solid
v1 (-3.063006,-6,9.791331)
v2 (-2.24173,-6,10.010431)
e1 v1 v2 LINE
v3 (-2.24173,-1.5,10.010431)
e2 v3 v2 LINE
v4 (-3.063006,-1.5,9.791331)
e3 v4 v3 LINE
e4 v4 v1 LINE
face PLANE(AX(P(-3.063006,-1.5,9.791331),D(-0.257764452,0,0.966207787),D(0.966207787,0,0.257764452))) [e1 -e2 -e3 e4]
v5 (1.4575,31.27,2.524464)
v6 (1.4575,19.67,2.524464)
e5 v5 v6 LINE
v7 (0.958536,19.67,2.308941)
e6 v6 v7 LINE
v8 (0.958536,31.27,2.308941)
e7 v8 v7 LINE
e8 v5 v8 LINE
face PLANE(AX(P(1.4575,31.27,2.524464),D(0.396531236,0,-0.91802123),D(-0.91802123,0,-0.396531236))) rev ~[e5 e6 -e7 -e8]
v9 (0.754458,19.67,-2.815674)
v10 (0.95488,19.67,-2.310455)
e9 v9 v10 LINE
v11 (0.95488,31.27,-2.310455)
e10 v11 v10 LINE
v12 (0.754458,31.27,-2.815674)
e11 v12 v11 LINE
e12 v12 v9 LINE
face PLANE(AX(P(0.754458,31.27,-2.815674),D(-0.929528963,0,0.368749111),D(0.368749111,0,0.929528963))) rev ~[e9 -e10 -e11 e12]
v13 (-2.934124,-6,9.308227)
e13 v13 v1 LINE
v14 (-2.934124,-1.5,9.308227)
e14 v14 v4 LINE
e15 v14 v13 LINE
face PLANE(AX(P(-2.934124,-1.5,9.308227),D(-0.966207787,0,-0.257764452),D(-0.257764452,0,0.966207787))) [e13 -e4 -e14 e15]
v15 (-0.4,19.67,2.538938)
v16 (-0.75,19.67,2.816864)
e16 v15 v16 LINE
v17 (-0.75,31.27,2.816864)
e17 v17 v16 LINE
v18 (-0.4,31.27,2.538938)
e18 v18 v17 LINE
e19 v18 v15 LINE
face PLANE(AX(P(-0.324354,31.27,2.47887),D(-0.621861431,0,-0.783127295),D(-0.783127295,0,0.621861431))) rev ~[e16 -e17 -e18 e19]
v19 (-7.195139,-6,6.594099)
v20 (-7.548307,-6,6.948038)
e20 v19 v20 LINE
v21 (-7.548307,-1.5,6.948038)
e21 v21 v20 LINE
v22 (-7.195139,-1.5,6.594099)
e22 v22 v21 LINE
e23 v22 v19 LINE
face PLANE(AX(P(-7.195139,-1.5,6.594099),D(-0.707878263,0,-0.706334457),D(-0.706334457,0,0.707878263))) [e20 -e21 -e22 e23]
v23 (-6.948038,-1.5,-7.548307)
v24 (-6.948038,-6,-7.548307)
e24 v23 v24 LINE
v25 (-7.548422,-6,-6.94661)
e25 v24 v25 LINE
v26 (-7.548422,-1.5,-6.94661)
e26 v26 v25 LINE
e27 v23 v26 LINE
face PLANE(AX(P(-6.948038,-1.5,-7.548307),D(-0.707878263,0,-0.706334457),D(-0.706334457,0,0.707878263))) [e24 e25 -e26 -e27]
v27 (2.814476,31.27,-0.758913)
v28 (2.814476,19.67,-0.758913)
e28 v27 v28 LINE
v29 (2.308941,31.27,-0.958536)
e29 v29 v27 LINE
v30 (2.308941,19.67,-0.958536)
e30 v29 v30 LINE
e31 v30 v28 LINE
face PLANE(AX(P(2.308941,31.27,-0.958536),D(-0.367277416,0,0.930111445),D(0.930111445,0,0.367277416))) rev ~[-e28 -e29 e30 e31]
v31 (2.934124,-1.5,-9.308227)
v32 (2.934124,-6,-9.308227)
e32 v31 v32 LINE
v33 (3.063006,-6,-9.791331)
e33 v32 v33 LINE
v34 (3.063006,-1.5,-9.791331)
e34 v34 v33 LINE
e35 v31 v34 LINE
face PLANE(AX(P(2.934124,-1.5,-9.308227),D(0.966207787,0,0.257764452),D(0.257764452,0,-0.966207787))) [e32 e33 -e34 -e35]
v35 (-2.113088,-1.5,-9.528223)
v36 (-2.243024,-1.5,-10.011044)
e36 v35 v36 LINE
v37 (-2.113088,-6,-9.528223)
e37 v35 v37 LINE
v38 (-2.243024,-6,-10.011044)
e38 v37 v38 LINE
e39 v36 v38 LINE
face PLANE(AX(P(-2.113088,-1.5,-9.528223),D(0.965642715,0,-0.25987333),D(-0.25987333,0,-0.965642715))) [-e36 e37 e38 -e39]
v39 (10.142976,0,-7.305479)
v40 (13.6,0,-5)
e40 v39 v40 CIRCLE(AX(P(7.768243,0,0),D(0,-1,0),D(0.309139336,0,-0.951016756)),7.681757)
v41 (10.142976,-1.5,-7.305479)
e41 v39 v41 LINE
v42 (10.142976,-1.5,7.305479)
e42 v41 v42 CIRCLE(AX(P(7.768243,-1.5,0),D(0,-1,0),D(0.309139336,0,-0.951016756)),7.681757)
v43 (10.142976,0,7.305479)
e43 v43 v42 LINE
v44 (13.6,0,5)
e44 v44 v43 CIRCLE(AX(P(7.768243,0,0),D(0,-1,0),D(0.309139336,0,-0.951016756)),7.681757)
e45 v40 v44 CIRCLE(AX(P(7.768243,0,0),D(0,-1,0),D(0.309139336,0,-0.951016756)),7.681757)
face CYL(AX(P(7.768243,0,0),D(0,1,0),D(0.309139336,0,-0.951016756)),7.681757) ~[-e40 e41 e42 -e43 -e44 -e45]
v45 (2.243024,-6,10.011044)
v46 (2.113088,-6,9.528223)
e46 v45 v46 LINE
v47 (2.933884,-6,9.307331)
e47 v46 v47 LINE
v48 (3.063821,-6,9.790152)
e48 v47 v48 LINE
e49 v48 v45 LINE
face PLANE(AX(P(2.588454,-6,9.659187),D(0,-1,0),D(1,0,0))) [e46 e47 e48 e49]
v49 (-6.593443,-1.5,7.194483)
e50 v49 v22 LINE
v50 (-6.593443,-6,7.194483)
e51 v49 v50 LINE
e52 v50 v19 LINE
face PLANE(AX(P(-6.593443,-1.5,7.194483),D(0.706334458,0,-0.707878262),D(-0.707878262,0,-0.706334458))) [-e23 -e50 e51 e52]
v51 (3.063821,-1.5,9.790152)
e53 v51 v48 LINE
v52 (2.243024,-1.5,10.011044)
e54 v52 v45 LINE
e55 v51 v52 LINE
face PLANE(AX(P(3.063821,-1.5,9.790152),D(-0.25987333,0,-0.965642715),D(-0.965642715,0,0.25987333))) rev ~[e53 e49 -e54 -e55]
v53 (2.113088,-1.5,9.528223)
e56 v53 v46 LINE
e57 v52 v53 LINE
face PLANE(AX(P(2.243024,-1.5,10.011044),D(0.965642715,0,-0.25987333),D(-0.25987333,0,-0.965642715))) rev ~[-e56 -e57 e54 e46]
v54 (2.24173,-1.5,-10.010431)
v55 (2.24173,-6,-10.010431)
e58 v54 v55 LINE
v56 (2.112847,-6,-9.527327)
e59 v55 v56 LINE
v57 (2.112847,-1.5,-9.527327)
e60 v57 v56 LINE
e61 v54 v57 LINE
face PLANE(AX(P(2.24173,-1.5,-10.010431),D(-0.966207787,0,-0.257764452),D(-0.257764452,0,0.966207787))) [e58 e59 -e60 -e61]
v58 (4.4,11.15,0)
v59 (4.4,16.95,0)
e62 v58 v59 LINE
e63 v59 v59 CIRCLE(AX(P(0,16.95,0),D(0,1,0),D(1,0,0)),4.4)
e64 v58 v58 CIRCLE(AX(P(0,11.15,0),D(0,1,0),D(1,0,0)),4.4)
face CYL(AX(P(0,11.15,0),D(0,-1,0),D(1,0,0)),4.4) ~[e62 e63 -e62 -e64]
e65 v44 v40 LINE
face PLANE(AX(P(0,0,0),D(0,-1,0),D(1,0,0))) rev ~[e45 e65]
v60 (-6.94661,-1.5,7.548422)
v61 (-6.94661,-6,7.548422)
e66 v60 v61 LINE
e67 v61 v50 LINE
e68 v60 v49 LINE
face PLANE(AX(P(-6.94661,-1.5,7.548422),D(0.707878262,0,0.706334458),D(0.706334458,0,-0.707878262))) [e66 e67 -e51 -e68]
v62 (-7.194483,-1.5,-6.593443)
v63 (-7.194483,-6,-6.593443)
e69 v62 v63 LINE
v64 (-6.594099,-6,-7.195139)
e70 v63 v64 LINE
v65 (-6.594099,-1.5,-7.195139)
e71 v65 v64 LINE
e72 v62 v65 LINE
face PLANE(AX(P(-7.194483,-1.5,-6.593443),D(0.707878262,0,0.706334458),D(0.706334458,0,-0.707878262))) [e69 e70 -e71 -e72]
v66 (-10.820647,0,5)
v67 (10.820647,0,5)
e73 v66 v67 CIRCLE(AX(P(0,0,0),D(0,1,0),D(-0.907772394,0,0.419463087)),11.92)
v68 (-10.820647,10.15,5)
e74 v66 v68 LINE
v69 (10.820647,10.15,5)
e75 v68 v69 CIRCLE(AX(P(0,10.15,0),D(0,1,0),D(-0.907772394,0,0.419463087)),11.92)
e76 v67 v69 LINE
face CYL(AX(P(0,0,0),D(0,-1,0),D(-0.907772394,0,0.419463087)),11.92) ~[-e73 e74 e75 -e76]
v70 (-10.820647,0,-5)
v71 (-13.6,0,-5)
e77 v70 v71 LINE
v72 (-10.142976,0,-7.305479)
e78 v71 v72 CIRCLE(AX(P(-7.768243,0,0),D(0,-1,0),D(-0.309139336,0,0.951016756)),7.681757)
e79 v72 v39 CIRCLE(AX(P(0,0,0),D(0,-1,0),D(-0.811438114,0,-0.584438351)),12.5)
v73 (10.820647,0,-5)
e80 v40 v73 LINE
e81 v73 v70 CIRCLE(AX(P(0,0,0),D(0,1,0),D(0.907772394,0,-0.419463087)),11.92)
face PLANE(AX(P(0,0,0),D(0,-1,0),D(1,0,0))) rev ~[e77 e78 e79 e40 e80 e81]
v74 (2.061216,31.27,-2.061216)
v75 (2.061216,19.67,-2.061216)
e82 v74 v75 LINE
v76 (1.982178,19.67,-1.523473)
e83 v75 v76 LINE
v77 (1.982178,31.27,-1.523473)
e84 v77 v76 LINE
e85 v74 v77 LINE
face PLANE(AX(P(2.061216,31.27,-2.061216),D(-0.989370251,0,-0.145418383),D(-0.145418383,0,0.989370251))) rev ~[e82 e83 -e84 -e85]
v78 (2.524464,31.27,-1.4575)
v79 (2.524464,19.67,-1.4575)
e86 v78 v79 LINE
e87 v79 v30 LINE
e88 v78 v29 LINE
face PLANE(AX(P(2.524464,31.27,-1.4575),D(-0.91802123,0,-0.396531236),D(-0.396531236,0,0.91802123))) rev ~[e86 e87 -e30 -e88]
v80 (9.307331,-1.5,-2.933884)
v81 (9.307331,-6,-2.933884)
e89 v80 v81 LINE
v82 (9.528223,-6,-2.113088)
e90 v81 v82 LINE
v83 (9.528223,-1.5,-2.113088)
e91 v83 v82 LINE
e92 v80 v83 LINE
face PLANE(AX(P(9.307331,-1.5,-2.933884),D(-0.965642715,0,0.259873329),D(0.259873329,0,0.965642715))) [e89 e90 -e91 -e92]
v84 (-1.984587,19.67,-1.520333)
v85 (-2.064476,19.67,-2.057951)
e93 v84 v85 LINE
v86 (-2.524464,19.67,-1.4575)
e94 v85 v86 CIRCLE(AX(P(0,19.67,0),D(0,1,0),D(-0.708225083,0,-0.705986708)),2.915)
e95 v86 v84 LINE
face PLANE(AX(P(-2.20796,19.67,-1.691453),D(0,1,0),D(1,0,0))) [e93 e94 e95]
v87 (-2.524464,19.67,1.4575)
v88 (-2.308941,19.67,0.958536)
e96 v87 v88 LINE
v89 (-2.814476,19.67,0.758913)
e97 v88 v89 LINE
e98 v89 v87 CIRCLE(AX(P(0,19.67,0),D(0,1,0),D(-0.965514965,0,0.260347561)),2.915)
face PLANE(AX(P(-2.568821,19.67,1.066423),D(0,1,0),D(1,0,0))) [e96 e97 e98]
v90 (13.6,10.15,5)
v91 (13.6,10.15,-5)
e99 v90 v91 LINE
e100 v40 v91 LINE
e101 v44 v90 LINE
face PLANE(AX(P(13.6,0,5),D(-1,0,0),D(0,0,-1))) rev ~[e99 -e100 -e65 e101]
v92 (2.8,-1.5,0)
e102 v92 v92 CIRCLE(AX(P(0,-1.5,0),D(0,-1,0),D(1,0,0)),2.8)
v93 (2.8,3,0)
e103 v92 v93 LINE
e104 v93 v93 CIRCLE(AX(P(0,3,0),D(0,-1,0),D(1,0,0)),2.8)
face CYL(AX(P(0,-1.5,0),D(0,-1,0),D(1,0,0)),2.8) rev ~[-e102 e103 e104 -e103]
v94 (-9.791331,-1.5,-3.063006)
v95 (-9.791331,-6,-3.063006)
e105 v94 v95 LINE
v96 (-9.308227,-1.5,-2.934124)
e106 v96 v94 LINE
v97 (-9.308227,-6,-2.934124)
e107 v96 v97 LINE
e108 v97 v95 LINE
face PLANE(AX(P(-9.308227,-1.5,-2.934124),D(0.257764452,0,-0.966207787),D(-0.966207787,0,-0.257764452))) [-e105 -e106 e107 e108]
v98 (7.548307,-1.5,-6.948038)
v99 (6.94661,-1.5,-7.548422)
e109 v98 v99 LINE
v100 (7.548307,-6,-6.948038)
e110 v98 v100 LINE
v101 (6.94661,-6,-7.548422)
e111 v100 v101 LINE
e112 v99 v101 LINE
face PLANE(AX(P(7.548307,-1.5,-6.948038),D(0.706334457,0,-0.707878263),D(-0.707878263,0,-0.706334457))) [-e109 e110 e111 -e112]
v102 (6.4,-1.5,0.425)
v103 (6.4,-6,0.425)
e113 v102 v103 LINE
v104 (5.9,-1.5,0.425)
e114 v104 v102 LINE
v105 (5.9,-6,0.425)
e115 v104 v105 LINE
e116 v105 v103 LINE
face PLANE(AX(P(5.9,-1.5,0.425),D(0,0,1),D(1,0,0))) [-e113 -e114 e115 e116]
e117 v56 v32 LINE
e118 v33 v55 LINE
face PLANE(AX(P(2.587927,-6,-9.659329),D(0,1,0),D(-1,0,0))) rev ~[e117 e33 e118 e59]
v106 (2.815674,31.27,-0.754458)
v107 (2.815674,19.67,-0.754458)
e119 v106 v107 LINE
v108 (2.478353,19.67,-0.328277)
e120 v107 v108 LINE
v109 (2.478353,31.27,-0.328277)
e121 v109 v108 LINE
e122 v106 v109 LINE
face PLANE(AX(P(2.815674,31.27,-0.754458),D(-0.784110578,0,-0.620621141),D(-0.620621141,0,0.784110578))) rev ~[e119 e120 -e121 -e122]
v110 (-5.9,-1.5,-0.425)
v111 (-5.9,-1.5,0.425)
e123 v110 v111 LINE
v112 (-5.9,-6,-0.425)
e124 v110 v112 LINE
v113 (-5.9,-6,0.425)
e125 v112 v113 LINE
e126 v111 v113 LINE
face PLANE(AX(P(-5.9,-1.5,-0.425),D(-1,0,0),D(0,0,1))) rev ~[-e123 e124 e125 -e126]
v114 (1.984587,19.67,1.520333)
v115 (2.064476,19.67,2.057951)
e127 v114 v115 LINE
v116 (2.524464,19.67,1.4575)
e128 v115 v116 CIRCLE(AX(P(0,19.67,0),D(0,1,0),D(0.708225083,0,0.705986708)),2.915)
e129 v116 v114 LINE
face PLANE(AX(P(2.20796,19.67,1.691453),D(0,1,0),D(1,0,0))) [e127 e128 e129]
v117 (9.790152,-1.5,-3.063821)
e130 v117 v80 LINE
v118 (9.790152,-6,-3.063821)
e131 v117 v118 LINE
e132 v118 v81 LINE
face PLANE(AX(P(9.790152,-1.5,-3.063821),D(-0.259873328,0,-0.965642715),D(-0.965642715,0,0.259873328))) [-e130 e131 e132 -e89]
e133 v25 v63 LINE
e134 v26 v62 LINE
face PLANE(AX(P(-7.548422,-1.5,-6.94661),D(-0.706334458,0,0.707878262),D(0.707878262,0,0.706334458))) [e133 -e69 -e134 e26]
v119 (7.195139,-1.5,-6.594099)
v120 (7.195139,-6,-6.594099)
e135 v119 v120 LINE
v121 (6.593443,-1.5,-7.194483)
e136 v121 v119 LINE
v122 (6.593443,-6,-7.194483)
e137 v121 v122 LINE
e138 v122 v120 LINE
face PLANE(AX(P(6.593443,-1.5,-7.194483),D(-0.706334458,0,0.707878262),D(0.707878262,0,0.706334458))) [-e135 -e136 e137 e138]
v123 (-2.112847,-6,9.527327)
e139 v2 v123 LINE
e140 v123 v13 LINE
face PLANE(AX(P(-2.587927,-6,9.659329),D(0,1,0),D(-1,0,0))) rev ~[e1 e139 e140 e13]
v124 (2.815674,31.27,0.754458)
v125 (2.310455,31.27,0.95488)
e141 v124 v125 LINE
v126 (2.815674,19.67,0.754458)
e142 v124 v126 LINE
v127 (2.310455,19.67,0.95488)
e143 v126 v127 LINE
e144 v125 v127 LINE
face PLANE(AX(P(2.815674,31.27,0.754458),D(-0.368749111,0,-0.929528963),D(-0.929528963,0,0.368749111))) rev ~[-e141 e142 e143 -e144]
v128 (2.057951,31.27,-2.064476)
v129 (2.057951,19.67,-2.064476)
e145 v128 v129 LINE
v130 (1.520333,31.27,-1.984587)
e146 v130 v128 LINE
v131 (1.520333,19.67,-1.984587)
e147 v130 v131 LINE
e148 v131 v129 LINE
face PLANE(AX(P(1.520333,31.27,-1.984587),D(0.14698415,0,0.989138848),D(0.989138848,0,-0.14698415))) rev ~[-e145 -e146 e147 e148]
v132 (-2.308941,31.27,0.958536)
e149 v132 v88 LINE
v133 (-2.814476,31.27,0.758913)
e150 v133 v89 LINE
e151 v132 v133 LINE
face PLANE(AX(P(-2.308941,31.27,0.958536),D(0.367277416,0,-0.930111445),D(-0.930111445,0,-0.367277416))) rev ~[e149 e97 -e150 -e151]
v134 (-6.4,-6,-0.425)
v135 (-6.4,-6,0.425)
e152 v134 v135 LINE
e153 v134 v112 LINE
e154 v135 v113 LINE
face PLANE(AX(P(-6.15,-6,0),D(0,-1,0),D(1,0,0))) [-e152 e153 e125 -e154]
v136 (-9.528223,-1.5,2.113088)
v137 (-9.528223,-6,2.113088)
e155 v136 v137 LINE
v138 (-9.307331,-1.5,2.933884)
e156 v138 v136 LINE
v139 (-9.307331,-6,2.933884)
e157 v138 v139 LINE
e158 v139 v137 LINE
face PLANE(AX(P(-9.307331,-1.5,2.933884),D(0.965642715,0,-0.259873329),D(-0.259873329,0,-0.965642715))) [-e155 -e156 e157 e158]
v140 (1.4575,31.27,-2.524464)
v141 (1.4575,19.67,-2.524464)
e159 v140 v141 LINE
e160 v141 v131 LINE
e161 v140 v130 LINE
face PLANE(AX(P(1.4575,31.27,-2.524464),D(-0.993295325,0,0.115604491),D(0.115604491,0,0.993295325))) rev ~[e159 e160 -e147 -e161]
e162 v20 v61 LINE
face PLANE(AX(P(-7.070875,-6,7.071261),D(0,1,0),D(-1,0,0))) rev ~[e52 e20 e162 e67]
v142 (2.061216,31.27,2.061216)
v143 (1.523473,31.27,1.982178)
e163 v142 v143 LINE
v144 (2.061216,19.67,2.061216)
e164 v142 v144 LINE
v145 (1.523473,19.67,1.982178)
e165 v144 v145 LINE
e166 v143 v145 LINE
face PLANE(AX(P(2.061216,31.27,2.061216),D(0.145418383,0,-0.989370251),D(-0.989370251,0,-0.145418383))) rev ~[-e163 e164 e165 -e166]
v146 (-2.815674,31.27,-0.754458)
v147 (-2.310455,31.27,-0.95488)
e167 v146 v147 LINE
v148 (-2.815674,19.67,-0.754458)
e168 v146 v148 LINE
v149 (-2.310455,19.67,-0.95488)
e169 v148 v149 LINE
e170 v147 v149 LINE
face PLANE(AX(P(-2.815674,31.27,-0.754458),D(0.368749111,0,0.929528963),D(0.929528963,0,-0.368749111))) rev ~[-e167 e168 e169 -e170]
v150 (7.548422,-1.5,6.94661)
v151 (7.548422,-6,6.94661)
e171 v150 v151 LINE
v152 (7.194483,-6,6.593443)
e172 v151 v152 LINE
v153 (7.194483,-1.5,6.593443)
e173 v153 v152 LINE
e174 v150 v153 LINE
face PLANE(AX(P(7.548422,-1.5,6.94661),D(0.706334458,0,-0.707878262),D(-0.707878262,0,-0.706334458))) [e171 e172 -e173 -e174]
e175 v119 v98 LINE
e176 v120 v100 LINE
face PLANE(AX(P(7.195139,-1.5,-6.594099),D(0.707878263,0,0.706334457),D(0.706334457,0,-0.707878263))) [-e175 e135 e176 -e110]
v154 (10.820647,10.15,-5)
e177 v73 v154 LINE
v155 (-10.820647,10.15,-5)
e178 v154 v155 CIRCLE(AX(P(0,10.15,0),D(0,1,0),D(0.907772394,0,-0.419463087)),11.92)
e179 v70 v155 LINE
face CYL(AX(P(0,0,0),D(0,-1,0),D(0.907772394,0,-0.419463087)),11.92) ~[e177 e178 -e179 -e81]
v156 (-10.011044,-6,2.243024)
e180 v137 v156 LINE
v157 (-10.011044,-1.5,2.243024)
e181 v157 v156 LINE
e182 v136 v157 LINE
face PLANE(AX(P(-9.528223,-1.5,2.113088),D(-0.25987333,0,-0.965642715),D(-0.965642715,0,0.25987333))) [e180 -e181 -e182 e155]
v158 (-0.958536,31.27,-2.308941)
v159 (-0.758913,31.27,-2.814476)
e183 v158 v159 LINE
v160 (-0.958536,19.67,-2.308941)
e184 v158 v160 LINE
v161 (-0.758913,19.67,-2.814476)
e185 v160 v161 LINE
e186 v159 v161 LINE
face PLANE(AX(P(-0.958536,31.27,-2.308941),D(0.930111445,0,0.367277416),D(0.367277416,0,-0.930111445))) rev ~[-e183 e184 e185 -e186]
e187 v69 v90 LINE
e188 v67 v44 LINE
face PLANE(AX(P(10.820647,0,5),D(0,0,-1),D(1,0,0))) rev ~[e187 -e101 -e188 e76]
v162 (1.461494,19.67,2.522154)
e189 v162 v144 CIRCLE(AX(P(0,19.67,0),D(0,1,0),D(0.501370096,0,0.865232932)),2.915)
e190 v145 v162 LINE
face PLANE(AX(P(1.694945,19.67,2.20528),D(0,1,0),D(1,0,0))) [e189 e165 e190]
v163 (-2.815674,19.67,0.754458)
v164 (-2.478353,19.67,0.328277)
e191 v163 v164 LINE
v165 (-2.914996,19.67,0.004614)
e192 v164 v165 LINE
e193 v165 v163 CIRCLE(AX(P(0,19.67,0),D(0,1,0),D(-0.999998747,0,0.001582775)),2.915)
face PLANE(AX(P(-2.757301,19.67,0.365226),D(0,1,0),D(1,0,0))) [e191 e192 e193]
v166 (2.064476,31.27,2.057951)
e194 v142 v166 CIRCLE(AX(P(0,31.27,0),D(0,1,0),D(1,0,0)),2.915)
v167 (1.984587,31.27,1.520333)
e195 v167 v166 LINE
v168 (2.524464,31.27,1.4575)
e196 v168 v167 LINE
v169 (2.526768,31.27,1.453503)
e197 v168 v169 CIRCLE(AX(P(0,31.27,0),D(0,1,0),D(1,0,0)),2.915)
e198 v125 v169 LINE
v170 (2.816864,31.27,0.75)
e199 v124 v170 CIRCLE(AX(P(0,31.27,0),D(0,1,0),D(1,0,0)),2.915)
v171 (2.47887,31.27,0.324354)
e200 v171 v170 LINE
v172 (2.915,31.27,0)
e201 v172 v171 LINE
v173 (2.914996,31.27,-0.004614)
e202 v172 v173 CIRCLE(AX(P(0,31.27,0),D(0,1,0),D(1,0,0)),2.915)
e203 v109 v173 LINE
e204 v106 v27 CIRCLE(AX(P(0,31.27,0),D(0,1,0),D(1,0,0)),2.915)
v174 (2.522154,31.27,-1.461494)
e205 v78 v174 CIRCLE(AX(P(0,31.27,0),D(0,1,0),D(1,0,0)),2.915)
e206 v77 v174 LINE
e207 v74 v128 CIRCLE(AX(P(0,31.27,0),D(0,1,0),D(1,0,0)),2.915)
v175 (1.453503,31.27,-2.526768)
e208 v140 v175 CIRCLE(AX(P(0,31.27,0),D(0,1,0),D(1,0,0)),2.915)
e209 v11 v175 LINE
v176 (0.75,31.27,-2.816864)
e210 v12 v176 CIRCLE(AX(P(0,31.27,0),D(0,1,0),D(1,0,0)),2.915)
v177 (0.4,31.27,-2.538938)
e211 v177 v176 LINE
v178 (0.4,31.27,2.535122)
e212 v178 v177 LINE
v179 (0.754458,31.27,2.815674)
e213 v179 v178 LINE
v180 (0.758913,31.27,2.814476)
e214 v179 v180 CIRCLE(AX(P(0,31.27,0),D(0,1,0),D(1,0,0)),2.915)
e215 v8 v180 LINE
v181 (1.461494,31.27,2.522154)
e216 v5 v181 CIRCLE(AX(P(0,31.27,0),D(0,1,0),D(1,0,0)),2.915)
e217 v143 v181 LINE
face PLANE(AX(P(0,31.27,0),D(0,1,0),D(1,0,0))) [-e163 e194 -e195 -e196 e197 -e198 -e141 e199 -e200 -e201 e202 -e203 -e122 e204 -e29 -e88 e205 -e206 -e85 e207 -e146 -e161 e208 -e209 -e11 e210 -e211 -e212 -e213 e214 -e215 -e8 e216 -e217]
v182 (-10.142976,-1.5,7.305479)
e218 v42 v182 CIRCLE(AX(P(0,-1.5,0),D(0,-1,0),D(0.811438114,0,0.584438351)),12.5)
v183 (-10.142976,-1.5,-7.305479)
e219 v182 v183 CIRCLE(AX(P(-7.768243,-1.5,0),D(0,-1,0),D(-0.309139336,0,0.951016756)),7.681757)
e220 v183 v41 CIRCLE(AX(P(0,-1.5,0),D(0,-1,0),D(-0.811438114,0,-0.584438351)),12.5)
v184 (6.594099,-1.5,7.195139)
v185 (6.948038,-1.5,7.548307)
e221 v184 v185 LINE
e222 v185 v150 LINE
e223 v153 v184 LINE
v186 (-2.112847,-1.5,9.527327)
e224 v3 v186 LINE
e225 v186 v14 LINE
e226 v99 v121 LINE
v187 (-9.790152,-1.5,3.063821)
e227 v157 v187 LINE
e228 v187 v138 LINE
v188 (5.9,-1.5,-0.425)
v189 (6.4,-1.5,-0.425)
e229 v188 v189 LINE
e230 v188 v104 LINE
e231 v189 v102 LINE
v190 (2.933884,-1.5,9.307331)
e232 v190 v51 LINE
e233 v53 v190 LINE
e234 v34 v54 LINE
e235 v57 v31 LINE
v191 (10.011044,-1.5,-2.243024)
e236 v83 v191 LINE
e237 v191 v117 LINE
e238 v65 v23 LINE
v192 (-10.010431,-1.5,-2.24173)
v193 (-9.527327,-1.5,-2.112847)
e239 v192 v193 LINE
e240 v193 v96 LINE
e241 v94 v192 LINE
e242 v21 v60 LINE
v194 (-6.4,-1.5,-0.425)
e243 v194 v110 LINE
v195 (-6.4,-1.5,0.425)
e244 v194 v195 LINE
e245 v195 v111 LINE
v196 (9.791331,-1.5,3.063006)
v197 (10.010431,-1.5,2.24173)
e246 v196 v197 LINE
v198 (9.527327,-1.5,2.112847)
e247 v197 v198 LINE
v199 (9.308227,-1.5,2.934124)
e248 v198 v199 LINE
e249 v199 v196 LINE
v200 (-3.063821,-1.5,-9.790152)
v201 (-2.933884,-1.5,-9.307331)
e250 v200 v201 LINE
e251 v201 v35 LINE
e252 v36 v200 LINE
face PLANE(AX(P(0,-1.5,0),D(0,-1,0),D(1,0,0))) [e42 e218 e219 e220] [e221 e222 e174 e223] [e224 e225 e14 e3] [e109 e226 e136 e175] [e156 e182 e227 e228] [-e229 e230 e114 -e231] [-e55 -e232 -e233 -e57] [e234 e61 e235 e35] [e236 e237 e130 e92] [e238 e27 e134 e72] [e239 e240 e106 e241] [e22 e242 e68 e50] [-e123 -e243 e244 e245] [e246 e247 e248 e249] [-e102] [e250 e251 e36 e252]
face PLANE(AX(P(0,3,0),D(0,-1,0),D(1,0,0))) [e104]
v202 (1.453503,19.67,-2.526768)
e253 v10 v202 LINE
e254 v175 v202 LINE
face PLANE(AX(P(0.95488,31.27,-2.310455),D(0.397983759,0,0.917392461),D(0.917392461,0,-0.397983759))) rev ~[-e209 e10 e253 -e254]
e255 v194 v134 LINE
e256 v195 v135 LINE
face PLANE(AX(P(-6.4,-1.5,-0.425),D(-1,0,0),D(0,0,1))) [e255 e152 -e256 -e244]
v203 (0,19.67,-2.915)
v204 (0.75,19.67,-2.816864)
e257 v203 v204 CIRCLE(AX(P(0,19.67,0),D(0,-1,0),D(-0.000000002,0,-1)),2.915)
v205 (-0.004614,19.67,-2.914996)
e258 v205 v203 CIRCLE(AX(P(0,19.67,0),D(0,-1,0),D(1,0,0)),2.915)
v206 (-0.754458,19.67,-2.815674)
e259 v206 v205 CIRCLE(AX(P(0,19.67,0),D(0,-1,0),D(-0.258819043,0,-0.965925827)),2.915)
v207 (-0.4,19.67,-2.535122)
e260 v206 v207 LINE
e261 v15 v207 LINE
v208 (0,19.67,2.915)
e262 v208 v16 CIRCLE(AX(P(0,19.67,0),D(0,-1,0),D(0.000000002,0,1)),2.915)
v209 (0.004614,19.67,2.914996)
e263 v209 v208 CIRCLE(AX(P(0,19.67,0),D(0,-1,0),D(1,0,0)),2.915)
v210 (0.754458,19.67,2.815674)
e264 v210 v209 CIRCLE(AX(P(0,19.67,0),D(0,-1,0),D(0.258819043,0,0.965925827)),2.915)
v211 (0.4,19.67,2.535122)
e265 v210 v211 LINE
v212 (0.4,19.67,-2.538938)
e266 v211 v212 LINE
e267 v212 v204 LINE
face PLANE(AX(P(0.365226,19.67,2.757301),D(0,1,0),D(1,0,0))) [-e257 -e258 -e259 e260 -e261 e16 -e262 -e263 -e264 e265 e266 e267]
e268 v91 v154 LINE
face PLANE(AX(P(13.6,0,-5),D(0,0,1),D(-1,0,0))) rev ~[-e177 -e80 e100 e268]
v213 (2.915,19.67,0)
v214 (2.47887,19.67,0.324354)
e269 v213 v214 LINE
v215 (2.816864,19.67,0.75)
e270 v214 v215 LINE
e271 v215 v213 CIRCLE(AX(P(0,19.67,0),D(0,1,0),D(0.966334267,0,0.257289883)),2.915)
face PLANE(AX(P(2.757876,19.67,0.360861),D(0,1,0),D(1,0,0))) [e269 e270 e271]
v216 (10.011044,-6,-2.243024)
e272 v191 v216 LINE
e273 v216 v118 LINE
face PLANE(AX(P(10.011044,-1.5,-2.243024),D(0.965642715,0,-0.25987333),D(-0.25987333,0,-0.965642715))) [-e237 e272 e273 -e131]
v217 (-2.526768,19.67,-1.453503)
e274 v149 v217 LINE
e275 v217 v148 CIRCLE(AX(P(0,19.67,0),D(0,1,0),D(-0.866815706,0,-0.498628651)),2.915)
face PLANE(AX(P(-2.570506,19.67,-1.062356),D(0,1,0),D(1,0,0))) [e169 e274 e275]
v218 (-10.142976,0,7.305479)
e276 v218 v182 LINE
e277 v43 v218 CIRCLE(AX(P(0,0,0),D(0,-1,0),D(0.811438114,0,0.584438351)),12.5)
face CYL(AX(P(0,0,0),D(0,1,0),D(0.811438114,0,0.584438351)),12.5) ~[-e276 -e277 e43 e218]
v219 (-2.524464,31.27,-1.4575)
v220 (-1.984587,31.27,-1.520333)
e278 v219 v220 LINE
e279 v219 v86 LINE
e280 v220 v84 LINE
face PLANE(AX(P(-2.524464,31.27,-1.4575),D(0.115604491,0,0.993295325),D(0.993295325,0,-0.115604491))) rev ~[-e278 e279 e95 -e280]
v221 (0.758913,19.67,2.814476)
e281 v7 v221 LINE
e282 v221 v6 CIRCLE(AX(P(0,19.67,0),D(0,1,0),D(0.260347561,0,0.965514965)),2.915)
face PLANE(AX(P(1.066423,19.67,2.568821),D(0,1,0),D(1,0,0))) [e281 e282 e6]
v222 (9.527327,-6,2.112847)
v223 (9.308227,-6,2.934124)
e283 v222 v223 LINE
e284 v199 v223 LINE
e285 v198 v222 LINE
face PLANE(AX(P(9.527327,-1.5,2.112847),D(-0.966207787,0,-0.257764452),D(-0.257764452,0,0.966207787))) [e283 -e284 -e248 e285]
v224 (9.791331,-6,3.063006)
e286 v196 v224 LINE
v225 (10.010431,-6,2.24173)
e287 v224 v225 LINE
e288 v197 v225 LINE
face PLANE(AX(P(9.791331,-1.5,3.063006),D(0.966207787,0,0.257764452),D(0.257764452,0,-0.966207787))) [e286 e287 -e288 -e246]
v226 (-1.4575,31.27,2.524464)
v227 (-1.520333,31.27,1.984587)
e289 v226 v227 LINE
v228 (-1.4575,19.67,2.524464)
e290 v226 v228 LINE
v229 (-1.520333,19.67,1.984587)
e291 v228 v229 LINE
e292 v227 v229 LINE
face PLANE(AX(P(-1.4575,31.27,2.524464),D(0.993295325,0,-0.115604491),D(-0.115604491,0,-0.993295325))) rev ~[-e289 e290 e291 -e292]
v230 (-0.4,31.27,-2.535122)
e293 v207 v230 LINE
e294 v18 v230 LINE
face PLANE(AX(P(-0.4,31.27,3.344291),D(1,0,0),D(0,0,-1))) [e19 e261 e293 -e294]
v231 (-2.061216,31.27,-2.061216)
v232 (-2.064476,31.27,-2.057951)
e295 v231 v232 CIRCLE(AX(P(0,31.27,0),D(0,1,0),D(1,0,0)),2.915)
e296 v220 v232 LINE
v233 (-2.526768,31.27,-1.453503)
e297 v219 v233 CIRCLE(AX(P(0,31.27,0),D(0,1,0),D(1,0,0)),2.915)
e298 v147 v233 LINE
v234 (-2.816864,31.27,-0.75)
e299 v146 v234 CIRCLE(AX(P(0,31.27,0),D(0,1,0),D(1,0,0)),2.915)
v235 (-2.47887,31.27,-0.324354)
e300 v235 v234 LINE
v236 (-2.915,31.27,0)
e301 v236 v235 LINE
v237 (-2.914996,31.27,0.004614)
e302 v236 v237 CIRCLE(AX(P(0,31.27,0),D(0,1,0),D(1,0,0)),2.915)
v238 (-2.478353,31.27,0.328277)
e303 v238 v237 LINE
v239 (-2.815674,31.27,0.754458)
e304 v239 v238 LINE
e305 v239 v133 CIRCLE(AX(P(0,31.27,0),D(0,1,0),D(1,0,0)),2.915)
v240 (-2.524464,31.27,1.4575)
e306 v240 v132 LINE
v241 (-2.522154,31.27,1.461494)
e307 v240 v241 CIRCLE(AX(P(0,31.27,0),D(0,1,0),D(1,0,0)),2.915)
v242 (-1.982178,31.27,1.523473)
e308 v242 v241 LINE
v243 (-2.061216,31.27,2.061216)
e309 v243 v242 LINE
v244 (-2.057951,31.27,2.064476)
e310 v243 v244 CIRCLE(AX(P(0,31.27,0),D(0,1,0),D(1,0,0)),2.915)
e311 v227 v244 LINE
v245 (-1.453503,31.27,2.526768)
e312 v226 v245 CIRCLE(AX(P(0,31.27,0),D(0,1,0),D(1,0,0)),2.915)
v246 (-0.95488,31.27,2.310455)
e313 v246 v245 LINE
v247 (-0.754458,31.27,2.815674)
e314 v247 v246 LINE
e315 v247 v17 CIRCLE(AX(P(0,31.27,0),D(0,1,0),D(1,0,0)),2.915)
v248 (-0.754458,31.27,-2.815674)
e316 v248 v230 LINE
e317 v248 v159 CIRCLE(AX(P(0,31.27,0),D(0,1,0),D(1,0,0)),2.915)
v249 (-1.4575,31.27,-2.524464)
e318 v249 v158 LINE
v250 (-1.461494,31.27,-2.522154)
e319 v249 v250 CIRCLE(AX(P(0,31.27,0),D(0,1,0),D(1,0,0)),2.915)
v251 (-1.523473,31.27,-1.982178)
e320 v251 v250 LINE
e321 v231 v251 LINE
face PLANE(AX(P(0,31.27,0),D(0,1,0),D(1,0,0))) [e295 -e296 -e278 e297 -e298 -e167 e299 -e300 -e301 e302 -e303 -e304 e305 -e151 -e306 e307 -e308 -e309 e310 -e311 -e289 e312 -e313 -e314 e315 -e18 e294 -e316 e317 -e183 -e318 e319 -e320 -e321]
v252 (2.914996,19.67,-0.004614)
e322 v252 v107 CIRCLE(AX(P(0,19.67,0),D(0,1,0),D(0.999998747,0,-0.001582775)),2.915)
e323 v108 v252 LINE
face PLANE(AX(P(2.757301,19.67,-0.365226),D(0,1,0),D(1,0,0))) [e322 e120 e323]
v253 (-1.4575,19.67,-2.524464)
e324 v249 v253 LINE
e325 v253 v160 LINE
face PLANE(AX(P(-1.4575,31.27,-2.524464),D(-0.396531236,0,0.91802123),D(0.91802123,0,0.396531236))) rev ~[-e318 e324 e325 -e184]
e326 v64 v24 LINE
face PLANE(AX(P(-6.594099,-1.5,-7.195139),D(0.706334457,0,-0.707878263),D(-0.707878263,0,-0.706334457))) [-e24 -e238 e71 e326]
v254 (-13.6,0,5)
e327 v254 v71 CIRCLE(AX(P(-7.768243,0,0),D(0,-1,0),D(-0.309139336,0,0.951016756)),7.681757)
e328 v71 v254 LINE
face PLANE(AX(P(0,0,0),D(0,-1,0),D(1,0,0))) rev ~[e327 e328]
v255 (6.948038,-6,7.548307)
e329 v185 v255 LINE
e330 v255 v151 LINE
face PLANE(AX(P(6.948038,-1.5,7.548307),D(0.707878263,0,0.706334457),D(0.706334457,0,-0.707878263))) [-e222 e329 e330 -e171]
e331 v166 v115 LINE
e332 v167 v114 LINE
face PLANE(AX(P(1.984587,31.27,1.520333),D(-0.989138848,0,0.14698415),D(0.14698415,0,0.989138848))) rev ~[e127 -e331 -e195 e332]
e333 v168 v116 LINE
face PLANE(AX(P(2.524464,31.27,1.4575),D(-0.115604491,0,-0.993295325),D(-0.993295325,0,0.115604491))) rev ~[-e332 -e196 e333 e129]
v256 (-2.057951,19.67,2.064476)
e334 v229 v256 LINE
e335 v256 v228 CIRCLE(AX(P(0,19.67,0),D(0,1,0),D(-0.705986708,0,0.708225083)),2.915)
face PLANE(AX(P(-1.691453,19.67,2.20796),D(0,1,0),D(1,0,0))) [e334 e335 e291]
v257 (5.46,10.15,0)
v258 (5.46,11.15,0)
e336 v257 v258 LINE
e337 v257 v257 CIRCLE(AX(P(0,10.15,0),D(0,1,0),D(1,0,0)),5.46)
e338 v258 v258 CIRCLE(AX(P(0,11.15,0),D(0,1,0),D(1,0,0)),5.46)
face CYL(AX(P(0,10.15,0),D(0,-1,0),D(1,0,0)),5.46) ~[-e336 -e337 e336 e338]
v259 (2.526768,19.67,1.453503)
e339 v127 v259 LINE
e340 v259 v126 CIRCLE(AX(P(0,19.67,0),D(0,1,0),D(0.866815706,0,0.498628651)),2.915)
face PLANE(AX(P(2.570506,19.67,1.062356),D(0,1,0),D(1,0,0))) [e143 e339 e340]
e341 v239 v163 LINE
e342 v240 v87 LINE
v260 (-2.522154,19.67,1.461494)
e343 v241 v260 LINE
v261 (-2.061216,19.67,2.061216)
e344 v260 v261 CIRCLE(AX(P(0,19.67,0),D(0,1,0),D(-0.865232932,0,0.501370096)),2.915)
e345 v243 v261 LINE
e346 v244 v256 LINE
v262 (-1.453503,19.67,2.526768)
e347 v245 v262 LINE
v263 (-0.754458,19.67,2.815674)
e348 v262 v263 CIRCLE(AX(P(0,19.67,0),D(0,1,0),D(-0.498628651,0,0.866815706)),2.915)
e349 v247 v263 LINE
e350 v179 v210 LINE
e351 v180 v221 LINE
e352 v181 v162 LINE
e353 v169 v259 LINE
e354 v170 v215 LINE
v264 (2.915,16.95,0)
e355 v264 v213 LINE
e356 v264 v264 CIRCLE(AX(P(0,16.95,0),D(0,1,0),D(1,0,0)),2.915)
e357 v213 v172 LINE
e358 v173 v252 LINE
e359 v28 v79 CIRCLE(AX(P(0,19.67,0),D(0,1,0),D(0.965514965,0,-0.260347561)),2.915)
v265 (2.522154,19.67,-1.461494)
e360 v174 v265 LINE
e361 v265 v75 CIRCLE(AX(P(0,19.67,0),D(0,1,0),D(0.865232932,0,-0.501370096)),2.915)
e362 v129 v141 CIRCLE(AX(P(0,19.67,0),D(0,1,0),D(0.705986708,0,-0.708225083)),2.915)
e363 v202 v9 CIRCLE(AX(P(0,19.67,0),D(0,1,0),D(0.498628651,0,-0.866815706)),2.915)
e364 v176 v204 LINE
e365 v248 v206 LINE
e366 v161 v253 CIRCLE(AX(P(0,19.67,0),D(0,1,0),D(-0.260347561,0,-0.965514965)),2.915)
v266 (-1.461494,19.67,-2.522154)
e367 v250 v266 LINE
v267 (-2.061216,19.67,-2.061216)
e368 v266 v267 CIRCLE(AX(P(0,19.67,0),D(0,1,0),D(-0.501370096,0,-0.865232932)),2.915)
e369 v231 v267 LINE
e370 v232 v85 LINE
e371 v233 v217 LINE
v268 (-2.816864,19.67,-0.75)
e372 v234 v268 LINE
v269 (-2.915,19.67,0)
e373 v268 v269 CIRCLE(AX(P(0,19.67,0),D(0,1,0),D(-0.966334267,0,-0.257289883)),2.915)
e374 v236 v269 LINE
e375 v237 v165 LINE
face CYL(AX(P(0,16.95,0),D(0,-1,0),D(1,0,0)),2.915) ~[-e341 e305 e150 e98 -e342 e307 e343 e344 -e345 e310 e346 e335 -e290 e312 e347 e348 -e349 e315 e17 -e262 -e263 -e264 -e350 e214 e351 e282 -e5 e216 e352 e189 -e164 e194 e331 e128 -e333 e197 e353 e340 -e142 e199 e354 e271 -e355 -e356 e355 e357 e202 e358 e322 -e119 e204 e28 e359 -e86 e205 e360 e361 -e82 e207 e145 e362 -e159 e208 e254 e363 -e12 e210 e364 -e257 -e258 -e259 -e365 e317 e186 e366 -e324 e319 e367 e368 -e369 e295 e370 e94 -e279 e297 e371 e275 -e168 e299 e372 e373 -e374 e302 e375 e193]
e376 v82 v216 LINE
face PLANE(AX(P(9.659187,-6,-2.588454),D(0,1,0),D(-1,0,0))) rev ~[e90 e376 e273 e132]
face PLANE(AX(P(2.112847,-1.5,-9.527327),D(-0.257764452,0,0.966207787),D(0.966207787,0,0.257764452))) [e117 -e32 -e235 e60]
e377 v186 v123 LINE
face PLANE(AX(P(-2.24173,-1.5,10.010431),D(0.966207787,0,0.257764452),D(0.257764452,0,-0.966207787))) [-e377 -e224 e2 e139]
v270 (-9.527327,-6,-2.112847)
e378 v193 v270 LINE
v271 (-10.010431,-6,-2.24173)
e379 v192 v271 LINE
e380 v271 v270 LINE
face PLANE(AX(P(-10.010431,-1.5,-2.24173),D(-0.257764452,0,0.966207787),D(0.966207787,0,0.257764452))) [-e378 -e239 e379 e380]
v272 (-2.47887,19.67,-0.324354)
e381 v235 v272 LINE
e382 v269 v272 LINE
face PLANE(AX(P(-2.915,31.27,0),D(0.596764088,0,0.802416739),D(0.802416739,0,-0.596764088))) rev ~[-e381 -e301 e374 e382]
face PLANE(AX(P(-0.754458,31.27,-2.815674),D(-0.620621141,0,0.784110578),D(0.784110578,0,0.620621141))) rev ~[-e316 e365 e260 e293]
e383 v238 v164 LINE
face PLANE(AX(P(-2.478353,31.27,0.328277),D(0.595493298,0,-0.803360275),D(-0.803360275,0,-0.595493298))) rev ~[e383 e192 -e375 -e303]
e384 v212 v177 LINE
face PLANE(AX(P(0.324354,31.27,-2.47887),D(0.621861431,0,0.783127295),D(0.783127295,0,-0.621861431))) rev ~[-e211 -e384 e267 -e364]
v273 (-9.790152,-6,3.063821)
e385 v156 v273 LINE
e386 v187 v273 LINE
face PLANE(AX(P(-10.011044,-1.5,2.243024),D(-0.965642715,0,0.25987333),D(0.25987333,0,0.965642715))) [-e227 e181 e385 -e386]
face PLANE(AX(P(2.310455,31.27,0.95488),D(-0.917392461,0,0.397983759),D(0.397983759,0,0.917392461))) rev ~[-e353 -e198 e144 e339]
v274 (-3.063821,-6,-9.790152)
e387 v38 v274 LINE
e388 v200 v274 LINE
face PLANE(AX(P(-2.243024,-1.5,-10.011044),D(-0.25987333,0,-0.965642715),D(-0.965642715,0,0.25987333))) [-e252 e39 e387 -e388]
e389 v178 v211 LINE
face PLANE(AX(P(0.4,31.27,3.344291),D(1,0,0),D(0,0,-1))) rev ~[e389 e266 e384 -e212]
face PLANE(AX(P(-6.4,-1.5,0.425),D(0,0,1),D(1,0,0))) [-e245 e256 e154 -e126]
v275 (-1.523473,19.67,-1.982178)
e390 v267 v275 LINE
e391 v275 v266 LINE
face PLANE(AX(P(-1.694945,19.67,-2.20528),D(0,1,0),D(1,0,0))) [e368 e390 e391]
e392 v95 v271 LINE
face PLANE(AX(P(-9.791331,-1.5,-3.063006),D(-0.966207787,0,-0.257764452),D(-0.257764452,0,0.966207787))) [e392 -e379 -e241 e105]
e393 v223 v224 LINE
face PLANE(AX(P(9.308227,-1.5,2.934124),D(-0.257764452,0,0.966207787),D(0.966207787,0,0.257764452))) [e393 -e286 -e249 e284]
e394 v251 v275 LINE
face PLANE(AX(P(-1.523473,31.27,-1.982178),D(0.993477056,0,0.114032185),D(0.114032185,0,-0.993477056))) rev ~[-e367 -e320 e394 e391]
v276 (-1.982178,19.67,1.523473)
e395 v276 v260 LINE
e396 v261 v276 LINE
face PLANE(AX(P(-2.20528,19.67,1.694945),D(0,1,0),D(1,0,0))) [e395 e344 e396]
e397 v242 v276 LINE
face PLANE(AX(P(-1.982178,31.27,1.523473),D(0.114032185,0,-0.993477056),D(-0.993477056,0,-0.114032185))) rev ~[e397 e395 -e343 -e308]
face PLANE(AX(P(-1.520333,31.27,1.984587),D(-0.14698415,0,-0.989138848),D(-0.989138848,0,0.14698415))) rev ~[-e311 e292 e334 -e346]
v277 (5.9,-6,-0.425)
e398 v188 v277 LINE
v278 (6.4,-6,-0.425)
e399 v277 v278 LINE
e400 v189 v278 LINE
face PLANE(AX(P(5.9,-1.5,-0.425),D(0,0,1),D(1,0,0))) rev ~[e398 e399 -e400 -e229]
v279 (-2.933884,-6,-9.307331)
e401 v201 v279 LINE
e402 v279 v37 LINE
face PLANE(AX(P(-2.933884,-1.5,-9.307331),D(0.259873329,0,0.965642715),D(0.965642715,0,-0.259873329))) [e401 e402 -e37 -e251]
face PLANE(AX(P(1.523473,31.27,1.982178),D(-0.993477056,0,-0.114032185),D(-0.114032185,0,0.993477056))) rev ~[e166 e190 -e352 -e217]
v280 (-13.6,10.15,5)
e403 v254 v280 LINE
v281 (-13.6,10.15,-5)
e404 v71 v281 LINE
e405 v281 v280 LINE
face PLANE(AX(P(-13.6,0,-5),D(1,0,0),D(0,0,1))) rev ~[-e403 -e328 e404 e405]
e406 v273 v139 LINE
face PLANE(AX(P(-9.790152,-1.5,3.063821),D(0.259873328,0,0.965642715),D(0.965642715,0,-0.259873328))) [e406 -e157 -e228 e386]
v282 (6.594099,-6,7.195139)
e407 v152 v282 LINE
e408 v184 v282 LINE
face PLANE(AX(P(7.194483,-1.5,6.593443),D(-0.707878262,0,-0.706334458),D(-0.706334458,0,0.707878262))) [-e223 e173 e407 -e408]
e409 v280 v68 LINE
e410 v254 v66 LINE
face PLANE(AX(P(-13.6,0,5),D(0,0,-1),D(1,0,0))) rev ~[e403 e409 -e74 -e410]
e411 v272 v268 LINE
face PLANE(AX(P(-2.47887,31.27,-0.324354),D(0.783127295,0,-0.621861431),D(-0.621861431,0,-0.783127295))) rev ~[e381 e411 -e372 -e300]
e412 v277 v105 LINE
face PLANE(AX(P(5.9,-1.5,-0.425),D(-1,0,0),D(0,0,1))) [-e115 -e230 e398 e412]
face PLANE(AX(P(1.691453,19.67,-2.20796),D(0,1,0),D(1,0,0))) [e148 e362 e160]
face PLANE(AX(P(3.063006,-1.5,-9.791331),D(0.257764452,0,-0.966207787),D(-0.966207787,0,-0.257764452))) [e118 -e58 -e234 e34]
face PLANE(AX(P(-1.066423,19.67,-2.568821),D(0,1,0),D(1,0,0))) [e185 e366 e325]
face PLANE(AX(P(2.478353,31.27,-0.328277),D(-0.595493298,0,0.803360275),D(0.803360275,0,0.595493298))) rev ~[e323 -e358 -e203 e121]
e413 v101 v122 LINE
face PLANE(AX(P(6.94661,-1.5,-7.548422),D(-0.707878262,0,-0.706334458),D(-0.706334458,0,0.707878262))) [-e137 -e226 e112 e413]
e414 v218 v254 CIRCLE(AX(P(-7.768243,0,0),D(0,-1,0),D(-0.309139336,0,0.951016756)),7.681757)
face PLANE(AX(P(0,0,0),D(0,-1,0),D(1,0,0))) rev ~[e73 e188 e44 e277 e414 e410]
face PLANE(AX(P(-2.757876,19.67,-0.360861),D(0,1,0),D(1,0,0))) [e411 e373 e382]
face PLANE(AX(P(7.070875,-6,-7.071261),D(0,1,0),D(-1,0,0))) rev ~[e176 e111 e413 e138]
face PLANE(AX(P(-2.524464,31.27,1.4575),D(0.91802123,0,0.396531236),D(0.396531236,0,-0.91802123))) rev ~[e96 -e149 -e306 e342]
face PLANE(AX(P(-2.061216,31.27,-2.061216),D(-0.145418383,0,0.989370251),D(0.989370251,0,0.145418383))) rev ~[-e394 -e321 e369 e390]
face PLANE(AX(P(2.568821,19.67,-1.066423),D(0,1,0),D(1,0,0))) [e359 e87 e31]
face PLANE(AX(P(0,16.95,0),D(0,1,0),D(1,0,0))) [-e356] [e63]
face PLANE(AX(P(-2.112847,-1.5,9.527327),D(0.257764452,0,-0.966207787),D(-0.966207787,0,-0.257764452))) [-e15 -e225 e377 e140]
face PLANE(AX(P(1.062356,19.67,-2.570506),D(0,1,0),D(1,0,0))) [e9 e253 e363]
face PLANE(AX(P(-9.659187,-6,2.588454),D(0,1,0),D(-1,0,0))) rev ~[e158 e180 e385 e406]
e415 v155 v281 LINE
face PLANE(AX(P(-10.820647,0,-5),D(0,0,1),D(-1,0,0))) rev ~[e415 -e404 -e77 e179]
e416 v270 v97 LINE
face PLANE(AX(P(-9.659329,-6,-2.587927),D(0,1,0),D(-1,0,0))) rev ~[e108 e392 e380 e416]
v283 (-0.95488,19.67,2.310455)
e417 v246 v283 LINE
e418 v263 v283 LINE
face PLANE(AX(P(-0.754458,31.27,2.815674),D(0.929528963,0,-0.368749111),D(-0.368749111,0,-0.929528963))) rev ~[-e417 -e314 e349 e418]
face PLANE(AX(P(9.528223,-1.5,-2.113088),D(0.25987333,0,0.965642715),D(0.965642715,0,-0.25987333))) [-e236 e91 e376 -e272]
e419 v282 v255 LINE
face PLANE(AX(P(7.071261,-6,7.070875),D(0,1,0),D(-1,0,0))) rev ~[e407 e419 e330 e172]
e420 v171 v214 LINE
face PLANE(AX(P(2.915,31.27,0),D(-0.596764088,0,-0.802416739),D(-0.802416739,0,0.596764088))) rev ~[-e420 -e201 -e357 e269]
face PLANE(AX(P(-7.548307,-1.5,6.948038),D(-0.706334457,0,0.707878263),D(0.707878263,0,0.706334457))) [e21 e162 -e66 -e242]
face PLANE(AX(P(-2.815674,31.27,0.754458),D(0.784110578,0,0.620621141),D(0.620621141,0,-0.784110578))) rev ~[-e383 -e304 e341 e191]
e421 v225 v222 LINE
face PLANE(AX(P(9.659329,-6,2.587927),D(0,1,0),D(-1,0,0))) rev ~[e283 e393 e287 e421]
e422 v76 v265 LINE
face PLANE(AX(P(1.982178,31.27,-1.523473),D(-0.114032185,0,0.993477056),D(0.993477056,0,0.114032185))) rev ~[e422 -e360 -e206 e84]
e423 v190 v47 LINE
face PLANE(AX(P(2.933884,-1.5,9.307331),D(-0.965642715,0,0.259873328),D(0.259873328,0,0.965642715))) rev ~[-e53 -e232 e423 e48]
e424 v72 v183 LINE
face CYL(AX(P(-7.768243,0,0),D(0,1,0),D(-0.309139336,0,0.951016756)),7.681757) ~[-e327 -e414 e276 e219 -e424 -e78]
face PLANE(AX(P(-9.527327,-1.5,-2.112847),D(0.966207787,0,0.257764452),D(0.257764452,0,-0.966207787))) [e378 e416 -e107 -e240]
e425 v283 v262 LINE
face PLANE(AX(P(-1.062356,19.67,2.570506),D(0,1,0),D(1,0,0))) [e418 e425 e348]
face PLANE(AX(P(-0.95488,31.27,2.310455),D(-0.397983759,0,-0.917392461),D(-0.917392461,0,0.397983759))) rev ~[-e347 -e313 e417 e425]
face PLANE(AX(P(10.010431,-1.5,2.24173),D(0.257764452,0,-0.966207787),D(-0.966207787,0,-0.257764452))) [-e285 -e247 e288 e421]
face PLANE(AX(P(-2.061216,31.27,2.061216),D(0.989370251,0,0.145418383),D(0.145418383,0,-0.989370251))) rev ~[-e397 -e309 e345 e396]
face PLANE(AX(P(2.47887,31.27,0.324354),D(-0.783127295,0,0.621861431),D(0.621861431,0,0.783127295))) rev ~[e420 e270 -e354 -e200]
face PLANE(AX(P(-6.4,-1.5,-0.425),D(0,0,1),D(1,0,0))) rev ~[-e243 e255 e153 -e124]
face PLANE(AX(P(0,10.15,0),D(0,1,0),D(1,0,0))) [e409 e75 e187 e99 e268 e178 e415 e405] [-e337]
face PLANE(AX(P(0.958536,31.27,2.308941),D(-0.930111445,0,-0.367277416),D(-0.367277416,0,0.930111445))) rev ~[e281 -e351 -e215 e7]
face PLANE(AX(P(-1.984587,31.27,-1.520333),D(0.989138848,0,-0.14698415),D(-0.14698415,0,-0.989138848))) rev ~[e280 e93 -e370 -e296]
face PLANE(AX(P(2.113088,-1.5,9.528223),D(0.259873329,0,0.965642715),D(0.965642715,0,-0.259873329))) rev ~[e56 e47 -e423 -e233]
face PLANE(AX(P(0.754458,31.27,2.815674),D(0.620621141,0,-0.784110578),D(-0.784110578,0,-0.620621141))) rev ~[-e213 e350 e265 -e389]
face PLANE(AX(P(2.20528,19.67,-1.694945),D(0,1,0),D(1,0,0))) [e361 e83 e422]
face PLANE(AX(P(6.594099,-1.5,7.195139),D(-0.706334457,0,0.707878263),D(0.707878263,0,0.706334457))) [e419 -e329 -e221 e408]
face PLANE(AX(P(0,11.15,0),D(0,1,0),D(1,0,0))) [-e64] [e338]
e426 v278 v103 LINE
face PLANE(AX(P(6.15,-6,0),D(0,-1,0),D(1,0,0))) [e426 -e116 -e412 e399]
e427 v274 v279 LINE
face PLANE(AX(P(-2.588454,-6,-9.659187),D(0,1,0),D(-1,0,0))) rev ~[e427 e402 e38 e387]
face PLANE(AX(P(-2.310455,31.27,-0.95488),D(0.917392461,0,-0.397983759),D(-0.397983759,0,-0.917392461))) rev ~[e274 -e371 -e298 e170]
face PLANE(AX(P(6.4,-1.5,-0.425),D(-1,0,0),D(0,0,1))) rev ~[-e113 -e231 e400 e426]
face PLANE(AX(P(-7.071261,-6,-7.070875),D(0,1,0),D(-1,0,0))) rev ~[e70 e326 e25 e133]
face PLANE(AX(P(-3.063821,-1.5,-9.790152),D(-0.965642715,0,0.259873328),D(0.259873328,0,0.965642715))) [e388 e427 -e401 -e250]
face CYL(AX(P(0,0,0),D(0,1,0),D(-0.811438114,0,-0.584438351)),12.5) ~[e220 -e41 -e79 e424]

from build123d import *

# Parameters (mm, degrees)
BOSS_EXTRUDE1_DEPTH = 10.15
BOSS_EXTRUDE2_DEPTH = 1.5
SKETCH4_R           = 5.46
BOSS_EXTRUDE3_DEPTH = 1
SKETCH5_R           = 4.4
BOSS_EXTRUDE4_DEPTH = 5.8
SKETCH6_R           = 2.915
BOSS_EXTRUDE5_DEPTH = 14.32
BOSS_EXTRUDE6_DEPTH = 4.5
SKETCH8_W           = 0.5
SKETCH8_H           = 0.85
BOSS_EXTRUDE7_DEPTH = 4.5
SKETCH9_R           = 2.8
CUT_EXTRUDE1_DEPTH  = 4.5
CUT_EXTRUDE3_DEPTH  = 11.6
SKETCH10_W          = 0.8
SKETCH10_H          = 6.735502357
CUT_EXTRUDE2_DEPTH  = 11.6


with BuildPart() as part:
    # Sketch2 → Boss-Extrude1 (new body)
    with BuildSketch(Plane(origin=(0, 0, 0), x_dir=(1, 0, 0), z_dir=(0, 1, 0))):
        with BuildLine():
            Line((-13.6, 5), (-13.6, -5))
            Line((-13.6, -5), (-10.820646931, -5))
            ThreePointArc((-10.820646931, -5), (0, -11.92), (10.820646931, -5))
            Line((10.820646931, -5), (13.6, -5))
            Line((13.6, -5), (13.6, 5))
            Line((13.6, 5), (10.820646931, 5))
            ThreePointArc((10.820646931, 5), (0, 11.92), (-10.820646931, 5))
            Line((-10.820646931, 5), (-13.6, 5))
        make_face()
    extrude(amount=BOSS_EXTRUDE1_DEPTH)

    # Sketch3 → Boss-Extrude2 (add)
    with BuildSketch(Plane.XZ):
        with BuildLine():
            ThreePointArc((-10.142976429, -7.305479393), (0, -12.5), (10.142976429, -7.305479393))
            ThreePointArc((10.142976429, -7.305479393), (15.45, 0), (10.142976429, 7.305479393))
            ThreePointArc((10.142976429, 7.305479393), (0, 12.5), (-10.142976429, 7.305479393))
            ThreePointArc((-10.142976429, 7.305479393), (-15.45, 0), (-10.142976429, -7.305479393))
        make_face()
    extrude(amount=BOSS_EXTRUDE2_DEPTH)

    # Sketch4 → Boss-Extrude3 (add)
    with BuildSketch(Plane(origin=(0, 10.15, 0), x_dir=(1, 0, 0), z_dir=(0, 1, 0))):
        Circle(SKETCH4_R)
    extrude(amount=BOSS_EXTRUDE3_DEPTH)

    # Sketch5 → Boss-Extrude4 (add)
    with BuildSketch(Plane(origin=(0, 11.15, 0), x_dir=(1, 0, 0), z_dir=(0, 1, 0))):
        Circle(SKETCH5_R)
    extrude(amount=BOSS_EXTRUDE4_DEPTH)

    # Sketch6 → Boss-Extrude5 (add)
    with BuildSketch(Plane(origin=(0, 16.95, 0), x_dir=(1, 0, 0), z_dir=(0, 1, 0))):
        Circle(SKETCH6_R)
    extrude(amount=BOSS_EXTRUDE5_DEPTH)

    # Sketch7 → Boss-Extrude6 (add)
    with BuildSketch(Plane.XZ.offset(1.5)):
        Polygon((2.113087536, 9.528222971), (2.933883844, 9.307330641), (3.063820508, 9.790151999), (2.243024201, 10.011044329), align=None)
        Polygon((6.948038104, 7.548306607), (7.548422392, 6.946610084), (7.194483261, 6.593442855), (6.594098972, 7.195139378), align=None)
        Polygon((9.791330808, 3.063006225), (10.010430592, 2.241729606), (9.527326698, 2.11284738), (9.308226914, 2.934123999), align=None)
        Polygon((10.011044329, -2.243024201), (9.790151999, -3.063820508), (9.307330641, -2.933883844), (9.528222971, -2.113087536), align=None)
        Polygon((7.548306607, -6.948038104), (6.946610084, -7.548422392), (6.593442855, -7.194483261), (7.195139378, -6.594098972), align=None)
        Polygon((3.063006225, -9.791330808), (2.241729606, -10.010430592), (2.11284738, -9.527326698), (2.934123999, -9.308226914), align=None)
        Polygon((-2.243024201, -10.011044329), (-3.063820508, -9.790151999), (-2.933883844, -9.307330641), (-2.113087536, -9.528222971), align=None)
        Polygon((-6.948038104, -7.548306607), (-7.548422392, -6.946610084), (-7.194483261, -6.593442855), (-6.594098972, -7.195139378), align=None)
        Polygon((-9.791330808, -3.063006225), (-10.010430592, -2.241729606), (-9.527326698, -2.11284738), (-9.308226914, -2.934123999), align=None)
        Polygon((-10.011044329, 2.243024201), (-9.790151999, 3.063820508), (-9.307330641, 2.933883844), (-9.528222971, 2.113087536), align=None)
        Polygon((-7.548306607, 6.948038104), (-6.946610084, 7.548422392), (-6.593442855, 7.194483261), (-7.195139378, 6.594098972), align=None)
        Polygon((-3.063006225, 9.791330808), (-2.241729606, 10.010430592), (-2.11284738, 9.527326698), (-2.934123999, 9.308226914), align=None)
    extrude(amount=BOSS_EXTRUDE6_DEPTH)

    # Sketch8 → Boss-Extrude7 (add)
    with BuildSketch(Plane.XZ.offset(1.5)):
        with Locations((-6.15, 0)):
            Rectangle(SKETCH8_W, SKETCH8_H)
        with Locations((6.15, 0)):
            Rectangle(SKETCH8_W, SKETCH8_H)
    extrude(amount=BOSS_EXTRUDE7_DEPTH)

    # Sketch9 → Cut-Extrude1 (cut)
    with BuildSketch(Plane.XZ.offset(1.5)):
        Circle(SKETCH9_R)
    extrude(amount=-CUT_EXTRUDE1_DEPTH, mode=Mode.SUBTRACT)

    # Sketch11 → Cut-Extrude3 (cut)
    with BuildSketch(Plane(origin=(0, 31.27, 0), x_dir=(1, 0, 0), z_dir=(0, 1, 0))):
        with BuildLine():
            Line((-1.523472719, 1.982178316), (-1.461493827, 2.522153999))
            ThreePointArc((-1.461493827, 2.522153999), (-1.77636919, 2.311219916), (-2.061216267, 2.061216267))
            Line((-2.061216267, 2.061216267), (-1.523472719, 1.982178316))
        make_face()
        with BuildLine():
            Line((-0.958536146, 2.308940982), (-0.758913143, 2.814476122))
            ThreePointArc((-0.758913143, 2.814476122), (-1.117653146, 2.692225185), (-1.4575, 2.524464052))
            Line((-1.4575, 2.524464052), (-0.958536146, 2.308940982))
        make_face()
        with BuildLine():
            Line((-0.328276919, 2.478353136), (-0.004613782, 2.914996349))
            ThreePointArc((-0.004613782, 2.914996349), (-0.382770887, 2.889759756), (-0.754457516, 2.815673784))
            Line((-0.754457516, 2.815673784), (-0.328276919, 2.478353136))
        make_face()
        with BuildLine():
            ThreePointArc((0.75, 2.816864391), (0.378196575, 2.890361976), (0, 2.915))
            Line((0, 2.915), (0.324353838, 2.478869619))
            Line((0.324353838, 2.478869619), (0.75, 2.816864391))
        make_face()
        with BuildLine():
            ThreePointArc((1.453502522, 2.526767781), (1.113390566, 2.693990803), (0.754457516, 2.815673784))
            Line((0.754457516, 2.815673784), (0.954880417, 2.310455234))
            Line((0.954880417, 2.310455234), (1.453502522, 2.526767781))
        make_face()
        with BuildLine():
            ThreePointArc((2.057951249, 2.064476122), (1.77270883, 2.31402861), (1.4575, 2.524464052))
            Line((1.4575, 2.524464052), (1.520333473, 1.984587144))
            Line((1.520333473, 1.984587144), (2.057951249, 2.064476122))
        make_face()
        with BuildLine():
            ThreePointArc((2.522153999, 1.461493827), (2.311219916, 1.77636919), (2.061216267, 2.061216267))
            Line((2.061216267, 2.061216267), (1.982178316, 1.523472719))
            Line((1.982178316, 1.523472719), (2.522153999, 1.461493827))
        make_face()
        with BuildLine():
            ThreePointArc((2.814476122, 0.758913143), (2.692225185, 1.117653146), (2.524464052, 1.4575))
            Line((2.524464052, 1.4575), (2.308940982, 0.958536146))
            Line((2.308940982, 0.958536146), (2.814476122, 0.758913143))
        make_face()
        with BuildLine():
            ThreePointArc((2.914996349, 0.004613782), (2.889759756, 0.382770887), (2.815673784, 0.754457516))
            Line((2.815673784, 0.754457516), (2.478353136, 0.328276919))
            Line((2.478353136, 0.328276919), (2.914996349, 0.004613782))
        make_face()
        with BuildLine():
            ThreePointArc((2.816864391, -0.75), (2.890361976, -0.378196575), (2.915, 0))
            Line((2.915, 0), (2.478869619, -0.324353838))
            Line((2.478869619, -0.324353838), (2.816864391, -0.75))
        make_face()
        with BuildLine():
            ThreePointArc((2.526767781, -1.453502522), (2.693990803, -1.113390566), (2.815673784, -0.754457516))
            Line((2.815673784, -0.754457516), (2.310455234, -0.954880417))
            Line((2.310455234, -0.954880417), (2.526767781, -1.453502522))
        make_face()
        with BuildLine():
            ThreePointArc((2.064476122, -2.057951249), (2.31402861, -1.77270883), (2.524464052, -1.4575))
            Line((2.524464052, -1.4575), (1.984587144, -1.520333473))
            Line((1.984587144, -1.520333473), (2.064476122, -2.057951249))
        make_face()
        with BuildLine():
            ThreePointArc((1.461493827, -2.522153999), (1.77636919, -2.311219916), (2.061216267, -2.061216267))
            Line((2.061216267, -2.061216267), (1.523472719, -1.982178316))
            Line((1.523472719, -1.982178316), (1.461493827, -2.522153999))
        make_face()
        with BuildLine():
            ThreePointArc((0.758913143, -2.814476122), (1.117653146, -2.692225185), (1.4575, -2.524464052))
            Line((1.4575, -2.524464052), (0.958536146, -2.308940982))
            Line((0.958536146, -2.308940982), (0.758913143, -2.814476122))
        make_face()
        with BuildLine():
            ThreePointArc((0.004613782, -2.914996349), (0.382770887, -2.889759756), (0.754457516, -2.815673784))
            Line((0.754457516, -2.815673784), (0.328276919, -2.478353136))
            Line((0.328276919, -2.478353136), (0.004613782, -2.914996349))
        make_face()
        with BuildLine():
            Line((-0.324353838, -2.478869619), (-0.75, -2.816864391))
            ThreePointArc((-0.75, -2.816864391), (-0.378196575, -2.890361976), (0, -2.915))
            Line((0, -2.915), (-0.324353838, -2.478869619))
        make_face()
        with BuildLine():
            Line((-0.954880417, -2.310455234), (-1.453502522, -2.526767781))
            ThreePointArc((-1.453502522, -2.526767781), (-1.113390566, -2.693990803), (-0.754457516, -2.815673784))
            Line((-0.754457516, -2.815673784), (-0.954880417, -2.310455234))
        make_face()
        with BuildLine():
            Line((-1.520333473, -1.984587144), (-2.057951249, -2.064476122))
            ThreePointArc((-2.057951249, -2.064476122), (-1.77270883, -2.31402861), (-1.4575, -2.524464052))
            Line((-1.4575, -2.524464052), (-1.520333473, -1.984587144))
        make_face()
        with BuildLine():
            Line((-1.982178316, -1.523472719), (-2.522153999, -1.461493827))
            ThreePointArc((-2.522153999, -1.461493827), (-2.311219916, -1.77636919), (-2.061216267, -2.061216267))
            Line((-2.061216267, -2.061216267), (-1.982178316, -1.523472719))
        make_face()
        with BuildLine():
            Line((-2.308940982, -0.958536146), (-2.814476122, -0.758913143))
            ThreePointArc((-2.814476122, -0.758913143), (-2.692225185, -1.117653146), (-2.524464052, -1.4575))
            Line((-2.524464052, -1.4575), (-2.308940982, -0.958536146))
        make_face()
        with BuildLine():
            Line((-2.478353136, -0.328276919), (-2.914996349, -0.004613782))
            ThreePointArc((-2.914996349, -0.004613782), (-2.889759756, -0.382770887), (-2.815673784, -0.754457516))
            Line((-2.815673784, -0.754457516), (-2.478353136, -0.328276919))
        make_face()
        with BuildLine():
            Line((-2.478869619, 0.324353838), (-2.816864391, 0.75))
            ThreePointArc((-2.816864391, 0.75), (-2.890361976, 0.378196575), (-2.915, 0))
            Line((-2.915, 0), (-2.478869619, 0.324353838))
        make_face()
        with BuildLine():
            Line((-2.310455234, 0.954880417), (-2.526767781, 1.453502522))
            ThreePointArc((-2.526767781, 1.453502522), (-2.693990803, 1.113390566), (-2.815673784, 0.754457516))
            Line((-2.815673784, 0.754457516), (-2.310455234, 0.954880417))
        make_face()
        with BuildLine():
            Line((-1.984587144, 1.520333473), (-2.064476122, 2.057951249))
            ThreePointArc((-2.064476122, 2.057951249), (-2.31402861, 1.77270883), (-2.524464052, 1.4575))
            Line((-2.524464052, 1.4575), (-1.984587144, 1.520333473))
        make_face()
    extrude(amount=-CUT_EXTRUDE3_DEPTH, mode=Mode.SUBTRACT)

    # Sketch10 → Cut-Extrude2 (cut)
    with BuildSketch(Plane(origin=(0, 31.27, 0), x_dir=(1, 0, 0), z_dir=(0, 1, 0))):
        with Locations((0, 0.023459837)):
            Rectangle(SKETCH10_W, SKETCH10_H)
    extrude(amount=-CUT_EXTRUDE2_DEPTH, mode=Mode.SUBTRACT)


solid = part.part
